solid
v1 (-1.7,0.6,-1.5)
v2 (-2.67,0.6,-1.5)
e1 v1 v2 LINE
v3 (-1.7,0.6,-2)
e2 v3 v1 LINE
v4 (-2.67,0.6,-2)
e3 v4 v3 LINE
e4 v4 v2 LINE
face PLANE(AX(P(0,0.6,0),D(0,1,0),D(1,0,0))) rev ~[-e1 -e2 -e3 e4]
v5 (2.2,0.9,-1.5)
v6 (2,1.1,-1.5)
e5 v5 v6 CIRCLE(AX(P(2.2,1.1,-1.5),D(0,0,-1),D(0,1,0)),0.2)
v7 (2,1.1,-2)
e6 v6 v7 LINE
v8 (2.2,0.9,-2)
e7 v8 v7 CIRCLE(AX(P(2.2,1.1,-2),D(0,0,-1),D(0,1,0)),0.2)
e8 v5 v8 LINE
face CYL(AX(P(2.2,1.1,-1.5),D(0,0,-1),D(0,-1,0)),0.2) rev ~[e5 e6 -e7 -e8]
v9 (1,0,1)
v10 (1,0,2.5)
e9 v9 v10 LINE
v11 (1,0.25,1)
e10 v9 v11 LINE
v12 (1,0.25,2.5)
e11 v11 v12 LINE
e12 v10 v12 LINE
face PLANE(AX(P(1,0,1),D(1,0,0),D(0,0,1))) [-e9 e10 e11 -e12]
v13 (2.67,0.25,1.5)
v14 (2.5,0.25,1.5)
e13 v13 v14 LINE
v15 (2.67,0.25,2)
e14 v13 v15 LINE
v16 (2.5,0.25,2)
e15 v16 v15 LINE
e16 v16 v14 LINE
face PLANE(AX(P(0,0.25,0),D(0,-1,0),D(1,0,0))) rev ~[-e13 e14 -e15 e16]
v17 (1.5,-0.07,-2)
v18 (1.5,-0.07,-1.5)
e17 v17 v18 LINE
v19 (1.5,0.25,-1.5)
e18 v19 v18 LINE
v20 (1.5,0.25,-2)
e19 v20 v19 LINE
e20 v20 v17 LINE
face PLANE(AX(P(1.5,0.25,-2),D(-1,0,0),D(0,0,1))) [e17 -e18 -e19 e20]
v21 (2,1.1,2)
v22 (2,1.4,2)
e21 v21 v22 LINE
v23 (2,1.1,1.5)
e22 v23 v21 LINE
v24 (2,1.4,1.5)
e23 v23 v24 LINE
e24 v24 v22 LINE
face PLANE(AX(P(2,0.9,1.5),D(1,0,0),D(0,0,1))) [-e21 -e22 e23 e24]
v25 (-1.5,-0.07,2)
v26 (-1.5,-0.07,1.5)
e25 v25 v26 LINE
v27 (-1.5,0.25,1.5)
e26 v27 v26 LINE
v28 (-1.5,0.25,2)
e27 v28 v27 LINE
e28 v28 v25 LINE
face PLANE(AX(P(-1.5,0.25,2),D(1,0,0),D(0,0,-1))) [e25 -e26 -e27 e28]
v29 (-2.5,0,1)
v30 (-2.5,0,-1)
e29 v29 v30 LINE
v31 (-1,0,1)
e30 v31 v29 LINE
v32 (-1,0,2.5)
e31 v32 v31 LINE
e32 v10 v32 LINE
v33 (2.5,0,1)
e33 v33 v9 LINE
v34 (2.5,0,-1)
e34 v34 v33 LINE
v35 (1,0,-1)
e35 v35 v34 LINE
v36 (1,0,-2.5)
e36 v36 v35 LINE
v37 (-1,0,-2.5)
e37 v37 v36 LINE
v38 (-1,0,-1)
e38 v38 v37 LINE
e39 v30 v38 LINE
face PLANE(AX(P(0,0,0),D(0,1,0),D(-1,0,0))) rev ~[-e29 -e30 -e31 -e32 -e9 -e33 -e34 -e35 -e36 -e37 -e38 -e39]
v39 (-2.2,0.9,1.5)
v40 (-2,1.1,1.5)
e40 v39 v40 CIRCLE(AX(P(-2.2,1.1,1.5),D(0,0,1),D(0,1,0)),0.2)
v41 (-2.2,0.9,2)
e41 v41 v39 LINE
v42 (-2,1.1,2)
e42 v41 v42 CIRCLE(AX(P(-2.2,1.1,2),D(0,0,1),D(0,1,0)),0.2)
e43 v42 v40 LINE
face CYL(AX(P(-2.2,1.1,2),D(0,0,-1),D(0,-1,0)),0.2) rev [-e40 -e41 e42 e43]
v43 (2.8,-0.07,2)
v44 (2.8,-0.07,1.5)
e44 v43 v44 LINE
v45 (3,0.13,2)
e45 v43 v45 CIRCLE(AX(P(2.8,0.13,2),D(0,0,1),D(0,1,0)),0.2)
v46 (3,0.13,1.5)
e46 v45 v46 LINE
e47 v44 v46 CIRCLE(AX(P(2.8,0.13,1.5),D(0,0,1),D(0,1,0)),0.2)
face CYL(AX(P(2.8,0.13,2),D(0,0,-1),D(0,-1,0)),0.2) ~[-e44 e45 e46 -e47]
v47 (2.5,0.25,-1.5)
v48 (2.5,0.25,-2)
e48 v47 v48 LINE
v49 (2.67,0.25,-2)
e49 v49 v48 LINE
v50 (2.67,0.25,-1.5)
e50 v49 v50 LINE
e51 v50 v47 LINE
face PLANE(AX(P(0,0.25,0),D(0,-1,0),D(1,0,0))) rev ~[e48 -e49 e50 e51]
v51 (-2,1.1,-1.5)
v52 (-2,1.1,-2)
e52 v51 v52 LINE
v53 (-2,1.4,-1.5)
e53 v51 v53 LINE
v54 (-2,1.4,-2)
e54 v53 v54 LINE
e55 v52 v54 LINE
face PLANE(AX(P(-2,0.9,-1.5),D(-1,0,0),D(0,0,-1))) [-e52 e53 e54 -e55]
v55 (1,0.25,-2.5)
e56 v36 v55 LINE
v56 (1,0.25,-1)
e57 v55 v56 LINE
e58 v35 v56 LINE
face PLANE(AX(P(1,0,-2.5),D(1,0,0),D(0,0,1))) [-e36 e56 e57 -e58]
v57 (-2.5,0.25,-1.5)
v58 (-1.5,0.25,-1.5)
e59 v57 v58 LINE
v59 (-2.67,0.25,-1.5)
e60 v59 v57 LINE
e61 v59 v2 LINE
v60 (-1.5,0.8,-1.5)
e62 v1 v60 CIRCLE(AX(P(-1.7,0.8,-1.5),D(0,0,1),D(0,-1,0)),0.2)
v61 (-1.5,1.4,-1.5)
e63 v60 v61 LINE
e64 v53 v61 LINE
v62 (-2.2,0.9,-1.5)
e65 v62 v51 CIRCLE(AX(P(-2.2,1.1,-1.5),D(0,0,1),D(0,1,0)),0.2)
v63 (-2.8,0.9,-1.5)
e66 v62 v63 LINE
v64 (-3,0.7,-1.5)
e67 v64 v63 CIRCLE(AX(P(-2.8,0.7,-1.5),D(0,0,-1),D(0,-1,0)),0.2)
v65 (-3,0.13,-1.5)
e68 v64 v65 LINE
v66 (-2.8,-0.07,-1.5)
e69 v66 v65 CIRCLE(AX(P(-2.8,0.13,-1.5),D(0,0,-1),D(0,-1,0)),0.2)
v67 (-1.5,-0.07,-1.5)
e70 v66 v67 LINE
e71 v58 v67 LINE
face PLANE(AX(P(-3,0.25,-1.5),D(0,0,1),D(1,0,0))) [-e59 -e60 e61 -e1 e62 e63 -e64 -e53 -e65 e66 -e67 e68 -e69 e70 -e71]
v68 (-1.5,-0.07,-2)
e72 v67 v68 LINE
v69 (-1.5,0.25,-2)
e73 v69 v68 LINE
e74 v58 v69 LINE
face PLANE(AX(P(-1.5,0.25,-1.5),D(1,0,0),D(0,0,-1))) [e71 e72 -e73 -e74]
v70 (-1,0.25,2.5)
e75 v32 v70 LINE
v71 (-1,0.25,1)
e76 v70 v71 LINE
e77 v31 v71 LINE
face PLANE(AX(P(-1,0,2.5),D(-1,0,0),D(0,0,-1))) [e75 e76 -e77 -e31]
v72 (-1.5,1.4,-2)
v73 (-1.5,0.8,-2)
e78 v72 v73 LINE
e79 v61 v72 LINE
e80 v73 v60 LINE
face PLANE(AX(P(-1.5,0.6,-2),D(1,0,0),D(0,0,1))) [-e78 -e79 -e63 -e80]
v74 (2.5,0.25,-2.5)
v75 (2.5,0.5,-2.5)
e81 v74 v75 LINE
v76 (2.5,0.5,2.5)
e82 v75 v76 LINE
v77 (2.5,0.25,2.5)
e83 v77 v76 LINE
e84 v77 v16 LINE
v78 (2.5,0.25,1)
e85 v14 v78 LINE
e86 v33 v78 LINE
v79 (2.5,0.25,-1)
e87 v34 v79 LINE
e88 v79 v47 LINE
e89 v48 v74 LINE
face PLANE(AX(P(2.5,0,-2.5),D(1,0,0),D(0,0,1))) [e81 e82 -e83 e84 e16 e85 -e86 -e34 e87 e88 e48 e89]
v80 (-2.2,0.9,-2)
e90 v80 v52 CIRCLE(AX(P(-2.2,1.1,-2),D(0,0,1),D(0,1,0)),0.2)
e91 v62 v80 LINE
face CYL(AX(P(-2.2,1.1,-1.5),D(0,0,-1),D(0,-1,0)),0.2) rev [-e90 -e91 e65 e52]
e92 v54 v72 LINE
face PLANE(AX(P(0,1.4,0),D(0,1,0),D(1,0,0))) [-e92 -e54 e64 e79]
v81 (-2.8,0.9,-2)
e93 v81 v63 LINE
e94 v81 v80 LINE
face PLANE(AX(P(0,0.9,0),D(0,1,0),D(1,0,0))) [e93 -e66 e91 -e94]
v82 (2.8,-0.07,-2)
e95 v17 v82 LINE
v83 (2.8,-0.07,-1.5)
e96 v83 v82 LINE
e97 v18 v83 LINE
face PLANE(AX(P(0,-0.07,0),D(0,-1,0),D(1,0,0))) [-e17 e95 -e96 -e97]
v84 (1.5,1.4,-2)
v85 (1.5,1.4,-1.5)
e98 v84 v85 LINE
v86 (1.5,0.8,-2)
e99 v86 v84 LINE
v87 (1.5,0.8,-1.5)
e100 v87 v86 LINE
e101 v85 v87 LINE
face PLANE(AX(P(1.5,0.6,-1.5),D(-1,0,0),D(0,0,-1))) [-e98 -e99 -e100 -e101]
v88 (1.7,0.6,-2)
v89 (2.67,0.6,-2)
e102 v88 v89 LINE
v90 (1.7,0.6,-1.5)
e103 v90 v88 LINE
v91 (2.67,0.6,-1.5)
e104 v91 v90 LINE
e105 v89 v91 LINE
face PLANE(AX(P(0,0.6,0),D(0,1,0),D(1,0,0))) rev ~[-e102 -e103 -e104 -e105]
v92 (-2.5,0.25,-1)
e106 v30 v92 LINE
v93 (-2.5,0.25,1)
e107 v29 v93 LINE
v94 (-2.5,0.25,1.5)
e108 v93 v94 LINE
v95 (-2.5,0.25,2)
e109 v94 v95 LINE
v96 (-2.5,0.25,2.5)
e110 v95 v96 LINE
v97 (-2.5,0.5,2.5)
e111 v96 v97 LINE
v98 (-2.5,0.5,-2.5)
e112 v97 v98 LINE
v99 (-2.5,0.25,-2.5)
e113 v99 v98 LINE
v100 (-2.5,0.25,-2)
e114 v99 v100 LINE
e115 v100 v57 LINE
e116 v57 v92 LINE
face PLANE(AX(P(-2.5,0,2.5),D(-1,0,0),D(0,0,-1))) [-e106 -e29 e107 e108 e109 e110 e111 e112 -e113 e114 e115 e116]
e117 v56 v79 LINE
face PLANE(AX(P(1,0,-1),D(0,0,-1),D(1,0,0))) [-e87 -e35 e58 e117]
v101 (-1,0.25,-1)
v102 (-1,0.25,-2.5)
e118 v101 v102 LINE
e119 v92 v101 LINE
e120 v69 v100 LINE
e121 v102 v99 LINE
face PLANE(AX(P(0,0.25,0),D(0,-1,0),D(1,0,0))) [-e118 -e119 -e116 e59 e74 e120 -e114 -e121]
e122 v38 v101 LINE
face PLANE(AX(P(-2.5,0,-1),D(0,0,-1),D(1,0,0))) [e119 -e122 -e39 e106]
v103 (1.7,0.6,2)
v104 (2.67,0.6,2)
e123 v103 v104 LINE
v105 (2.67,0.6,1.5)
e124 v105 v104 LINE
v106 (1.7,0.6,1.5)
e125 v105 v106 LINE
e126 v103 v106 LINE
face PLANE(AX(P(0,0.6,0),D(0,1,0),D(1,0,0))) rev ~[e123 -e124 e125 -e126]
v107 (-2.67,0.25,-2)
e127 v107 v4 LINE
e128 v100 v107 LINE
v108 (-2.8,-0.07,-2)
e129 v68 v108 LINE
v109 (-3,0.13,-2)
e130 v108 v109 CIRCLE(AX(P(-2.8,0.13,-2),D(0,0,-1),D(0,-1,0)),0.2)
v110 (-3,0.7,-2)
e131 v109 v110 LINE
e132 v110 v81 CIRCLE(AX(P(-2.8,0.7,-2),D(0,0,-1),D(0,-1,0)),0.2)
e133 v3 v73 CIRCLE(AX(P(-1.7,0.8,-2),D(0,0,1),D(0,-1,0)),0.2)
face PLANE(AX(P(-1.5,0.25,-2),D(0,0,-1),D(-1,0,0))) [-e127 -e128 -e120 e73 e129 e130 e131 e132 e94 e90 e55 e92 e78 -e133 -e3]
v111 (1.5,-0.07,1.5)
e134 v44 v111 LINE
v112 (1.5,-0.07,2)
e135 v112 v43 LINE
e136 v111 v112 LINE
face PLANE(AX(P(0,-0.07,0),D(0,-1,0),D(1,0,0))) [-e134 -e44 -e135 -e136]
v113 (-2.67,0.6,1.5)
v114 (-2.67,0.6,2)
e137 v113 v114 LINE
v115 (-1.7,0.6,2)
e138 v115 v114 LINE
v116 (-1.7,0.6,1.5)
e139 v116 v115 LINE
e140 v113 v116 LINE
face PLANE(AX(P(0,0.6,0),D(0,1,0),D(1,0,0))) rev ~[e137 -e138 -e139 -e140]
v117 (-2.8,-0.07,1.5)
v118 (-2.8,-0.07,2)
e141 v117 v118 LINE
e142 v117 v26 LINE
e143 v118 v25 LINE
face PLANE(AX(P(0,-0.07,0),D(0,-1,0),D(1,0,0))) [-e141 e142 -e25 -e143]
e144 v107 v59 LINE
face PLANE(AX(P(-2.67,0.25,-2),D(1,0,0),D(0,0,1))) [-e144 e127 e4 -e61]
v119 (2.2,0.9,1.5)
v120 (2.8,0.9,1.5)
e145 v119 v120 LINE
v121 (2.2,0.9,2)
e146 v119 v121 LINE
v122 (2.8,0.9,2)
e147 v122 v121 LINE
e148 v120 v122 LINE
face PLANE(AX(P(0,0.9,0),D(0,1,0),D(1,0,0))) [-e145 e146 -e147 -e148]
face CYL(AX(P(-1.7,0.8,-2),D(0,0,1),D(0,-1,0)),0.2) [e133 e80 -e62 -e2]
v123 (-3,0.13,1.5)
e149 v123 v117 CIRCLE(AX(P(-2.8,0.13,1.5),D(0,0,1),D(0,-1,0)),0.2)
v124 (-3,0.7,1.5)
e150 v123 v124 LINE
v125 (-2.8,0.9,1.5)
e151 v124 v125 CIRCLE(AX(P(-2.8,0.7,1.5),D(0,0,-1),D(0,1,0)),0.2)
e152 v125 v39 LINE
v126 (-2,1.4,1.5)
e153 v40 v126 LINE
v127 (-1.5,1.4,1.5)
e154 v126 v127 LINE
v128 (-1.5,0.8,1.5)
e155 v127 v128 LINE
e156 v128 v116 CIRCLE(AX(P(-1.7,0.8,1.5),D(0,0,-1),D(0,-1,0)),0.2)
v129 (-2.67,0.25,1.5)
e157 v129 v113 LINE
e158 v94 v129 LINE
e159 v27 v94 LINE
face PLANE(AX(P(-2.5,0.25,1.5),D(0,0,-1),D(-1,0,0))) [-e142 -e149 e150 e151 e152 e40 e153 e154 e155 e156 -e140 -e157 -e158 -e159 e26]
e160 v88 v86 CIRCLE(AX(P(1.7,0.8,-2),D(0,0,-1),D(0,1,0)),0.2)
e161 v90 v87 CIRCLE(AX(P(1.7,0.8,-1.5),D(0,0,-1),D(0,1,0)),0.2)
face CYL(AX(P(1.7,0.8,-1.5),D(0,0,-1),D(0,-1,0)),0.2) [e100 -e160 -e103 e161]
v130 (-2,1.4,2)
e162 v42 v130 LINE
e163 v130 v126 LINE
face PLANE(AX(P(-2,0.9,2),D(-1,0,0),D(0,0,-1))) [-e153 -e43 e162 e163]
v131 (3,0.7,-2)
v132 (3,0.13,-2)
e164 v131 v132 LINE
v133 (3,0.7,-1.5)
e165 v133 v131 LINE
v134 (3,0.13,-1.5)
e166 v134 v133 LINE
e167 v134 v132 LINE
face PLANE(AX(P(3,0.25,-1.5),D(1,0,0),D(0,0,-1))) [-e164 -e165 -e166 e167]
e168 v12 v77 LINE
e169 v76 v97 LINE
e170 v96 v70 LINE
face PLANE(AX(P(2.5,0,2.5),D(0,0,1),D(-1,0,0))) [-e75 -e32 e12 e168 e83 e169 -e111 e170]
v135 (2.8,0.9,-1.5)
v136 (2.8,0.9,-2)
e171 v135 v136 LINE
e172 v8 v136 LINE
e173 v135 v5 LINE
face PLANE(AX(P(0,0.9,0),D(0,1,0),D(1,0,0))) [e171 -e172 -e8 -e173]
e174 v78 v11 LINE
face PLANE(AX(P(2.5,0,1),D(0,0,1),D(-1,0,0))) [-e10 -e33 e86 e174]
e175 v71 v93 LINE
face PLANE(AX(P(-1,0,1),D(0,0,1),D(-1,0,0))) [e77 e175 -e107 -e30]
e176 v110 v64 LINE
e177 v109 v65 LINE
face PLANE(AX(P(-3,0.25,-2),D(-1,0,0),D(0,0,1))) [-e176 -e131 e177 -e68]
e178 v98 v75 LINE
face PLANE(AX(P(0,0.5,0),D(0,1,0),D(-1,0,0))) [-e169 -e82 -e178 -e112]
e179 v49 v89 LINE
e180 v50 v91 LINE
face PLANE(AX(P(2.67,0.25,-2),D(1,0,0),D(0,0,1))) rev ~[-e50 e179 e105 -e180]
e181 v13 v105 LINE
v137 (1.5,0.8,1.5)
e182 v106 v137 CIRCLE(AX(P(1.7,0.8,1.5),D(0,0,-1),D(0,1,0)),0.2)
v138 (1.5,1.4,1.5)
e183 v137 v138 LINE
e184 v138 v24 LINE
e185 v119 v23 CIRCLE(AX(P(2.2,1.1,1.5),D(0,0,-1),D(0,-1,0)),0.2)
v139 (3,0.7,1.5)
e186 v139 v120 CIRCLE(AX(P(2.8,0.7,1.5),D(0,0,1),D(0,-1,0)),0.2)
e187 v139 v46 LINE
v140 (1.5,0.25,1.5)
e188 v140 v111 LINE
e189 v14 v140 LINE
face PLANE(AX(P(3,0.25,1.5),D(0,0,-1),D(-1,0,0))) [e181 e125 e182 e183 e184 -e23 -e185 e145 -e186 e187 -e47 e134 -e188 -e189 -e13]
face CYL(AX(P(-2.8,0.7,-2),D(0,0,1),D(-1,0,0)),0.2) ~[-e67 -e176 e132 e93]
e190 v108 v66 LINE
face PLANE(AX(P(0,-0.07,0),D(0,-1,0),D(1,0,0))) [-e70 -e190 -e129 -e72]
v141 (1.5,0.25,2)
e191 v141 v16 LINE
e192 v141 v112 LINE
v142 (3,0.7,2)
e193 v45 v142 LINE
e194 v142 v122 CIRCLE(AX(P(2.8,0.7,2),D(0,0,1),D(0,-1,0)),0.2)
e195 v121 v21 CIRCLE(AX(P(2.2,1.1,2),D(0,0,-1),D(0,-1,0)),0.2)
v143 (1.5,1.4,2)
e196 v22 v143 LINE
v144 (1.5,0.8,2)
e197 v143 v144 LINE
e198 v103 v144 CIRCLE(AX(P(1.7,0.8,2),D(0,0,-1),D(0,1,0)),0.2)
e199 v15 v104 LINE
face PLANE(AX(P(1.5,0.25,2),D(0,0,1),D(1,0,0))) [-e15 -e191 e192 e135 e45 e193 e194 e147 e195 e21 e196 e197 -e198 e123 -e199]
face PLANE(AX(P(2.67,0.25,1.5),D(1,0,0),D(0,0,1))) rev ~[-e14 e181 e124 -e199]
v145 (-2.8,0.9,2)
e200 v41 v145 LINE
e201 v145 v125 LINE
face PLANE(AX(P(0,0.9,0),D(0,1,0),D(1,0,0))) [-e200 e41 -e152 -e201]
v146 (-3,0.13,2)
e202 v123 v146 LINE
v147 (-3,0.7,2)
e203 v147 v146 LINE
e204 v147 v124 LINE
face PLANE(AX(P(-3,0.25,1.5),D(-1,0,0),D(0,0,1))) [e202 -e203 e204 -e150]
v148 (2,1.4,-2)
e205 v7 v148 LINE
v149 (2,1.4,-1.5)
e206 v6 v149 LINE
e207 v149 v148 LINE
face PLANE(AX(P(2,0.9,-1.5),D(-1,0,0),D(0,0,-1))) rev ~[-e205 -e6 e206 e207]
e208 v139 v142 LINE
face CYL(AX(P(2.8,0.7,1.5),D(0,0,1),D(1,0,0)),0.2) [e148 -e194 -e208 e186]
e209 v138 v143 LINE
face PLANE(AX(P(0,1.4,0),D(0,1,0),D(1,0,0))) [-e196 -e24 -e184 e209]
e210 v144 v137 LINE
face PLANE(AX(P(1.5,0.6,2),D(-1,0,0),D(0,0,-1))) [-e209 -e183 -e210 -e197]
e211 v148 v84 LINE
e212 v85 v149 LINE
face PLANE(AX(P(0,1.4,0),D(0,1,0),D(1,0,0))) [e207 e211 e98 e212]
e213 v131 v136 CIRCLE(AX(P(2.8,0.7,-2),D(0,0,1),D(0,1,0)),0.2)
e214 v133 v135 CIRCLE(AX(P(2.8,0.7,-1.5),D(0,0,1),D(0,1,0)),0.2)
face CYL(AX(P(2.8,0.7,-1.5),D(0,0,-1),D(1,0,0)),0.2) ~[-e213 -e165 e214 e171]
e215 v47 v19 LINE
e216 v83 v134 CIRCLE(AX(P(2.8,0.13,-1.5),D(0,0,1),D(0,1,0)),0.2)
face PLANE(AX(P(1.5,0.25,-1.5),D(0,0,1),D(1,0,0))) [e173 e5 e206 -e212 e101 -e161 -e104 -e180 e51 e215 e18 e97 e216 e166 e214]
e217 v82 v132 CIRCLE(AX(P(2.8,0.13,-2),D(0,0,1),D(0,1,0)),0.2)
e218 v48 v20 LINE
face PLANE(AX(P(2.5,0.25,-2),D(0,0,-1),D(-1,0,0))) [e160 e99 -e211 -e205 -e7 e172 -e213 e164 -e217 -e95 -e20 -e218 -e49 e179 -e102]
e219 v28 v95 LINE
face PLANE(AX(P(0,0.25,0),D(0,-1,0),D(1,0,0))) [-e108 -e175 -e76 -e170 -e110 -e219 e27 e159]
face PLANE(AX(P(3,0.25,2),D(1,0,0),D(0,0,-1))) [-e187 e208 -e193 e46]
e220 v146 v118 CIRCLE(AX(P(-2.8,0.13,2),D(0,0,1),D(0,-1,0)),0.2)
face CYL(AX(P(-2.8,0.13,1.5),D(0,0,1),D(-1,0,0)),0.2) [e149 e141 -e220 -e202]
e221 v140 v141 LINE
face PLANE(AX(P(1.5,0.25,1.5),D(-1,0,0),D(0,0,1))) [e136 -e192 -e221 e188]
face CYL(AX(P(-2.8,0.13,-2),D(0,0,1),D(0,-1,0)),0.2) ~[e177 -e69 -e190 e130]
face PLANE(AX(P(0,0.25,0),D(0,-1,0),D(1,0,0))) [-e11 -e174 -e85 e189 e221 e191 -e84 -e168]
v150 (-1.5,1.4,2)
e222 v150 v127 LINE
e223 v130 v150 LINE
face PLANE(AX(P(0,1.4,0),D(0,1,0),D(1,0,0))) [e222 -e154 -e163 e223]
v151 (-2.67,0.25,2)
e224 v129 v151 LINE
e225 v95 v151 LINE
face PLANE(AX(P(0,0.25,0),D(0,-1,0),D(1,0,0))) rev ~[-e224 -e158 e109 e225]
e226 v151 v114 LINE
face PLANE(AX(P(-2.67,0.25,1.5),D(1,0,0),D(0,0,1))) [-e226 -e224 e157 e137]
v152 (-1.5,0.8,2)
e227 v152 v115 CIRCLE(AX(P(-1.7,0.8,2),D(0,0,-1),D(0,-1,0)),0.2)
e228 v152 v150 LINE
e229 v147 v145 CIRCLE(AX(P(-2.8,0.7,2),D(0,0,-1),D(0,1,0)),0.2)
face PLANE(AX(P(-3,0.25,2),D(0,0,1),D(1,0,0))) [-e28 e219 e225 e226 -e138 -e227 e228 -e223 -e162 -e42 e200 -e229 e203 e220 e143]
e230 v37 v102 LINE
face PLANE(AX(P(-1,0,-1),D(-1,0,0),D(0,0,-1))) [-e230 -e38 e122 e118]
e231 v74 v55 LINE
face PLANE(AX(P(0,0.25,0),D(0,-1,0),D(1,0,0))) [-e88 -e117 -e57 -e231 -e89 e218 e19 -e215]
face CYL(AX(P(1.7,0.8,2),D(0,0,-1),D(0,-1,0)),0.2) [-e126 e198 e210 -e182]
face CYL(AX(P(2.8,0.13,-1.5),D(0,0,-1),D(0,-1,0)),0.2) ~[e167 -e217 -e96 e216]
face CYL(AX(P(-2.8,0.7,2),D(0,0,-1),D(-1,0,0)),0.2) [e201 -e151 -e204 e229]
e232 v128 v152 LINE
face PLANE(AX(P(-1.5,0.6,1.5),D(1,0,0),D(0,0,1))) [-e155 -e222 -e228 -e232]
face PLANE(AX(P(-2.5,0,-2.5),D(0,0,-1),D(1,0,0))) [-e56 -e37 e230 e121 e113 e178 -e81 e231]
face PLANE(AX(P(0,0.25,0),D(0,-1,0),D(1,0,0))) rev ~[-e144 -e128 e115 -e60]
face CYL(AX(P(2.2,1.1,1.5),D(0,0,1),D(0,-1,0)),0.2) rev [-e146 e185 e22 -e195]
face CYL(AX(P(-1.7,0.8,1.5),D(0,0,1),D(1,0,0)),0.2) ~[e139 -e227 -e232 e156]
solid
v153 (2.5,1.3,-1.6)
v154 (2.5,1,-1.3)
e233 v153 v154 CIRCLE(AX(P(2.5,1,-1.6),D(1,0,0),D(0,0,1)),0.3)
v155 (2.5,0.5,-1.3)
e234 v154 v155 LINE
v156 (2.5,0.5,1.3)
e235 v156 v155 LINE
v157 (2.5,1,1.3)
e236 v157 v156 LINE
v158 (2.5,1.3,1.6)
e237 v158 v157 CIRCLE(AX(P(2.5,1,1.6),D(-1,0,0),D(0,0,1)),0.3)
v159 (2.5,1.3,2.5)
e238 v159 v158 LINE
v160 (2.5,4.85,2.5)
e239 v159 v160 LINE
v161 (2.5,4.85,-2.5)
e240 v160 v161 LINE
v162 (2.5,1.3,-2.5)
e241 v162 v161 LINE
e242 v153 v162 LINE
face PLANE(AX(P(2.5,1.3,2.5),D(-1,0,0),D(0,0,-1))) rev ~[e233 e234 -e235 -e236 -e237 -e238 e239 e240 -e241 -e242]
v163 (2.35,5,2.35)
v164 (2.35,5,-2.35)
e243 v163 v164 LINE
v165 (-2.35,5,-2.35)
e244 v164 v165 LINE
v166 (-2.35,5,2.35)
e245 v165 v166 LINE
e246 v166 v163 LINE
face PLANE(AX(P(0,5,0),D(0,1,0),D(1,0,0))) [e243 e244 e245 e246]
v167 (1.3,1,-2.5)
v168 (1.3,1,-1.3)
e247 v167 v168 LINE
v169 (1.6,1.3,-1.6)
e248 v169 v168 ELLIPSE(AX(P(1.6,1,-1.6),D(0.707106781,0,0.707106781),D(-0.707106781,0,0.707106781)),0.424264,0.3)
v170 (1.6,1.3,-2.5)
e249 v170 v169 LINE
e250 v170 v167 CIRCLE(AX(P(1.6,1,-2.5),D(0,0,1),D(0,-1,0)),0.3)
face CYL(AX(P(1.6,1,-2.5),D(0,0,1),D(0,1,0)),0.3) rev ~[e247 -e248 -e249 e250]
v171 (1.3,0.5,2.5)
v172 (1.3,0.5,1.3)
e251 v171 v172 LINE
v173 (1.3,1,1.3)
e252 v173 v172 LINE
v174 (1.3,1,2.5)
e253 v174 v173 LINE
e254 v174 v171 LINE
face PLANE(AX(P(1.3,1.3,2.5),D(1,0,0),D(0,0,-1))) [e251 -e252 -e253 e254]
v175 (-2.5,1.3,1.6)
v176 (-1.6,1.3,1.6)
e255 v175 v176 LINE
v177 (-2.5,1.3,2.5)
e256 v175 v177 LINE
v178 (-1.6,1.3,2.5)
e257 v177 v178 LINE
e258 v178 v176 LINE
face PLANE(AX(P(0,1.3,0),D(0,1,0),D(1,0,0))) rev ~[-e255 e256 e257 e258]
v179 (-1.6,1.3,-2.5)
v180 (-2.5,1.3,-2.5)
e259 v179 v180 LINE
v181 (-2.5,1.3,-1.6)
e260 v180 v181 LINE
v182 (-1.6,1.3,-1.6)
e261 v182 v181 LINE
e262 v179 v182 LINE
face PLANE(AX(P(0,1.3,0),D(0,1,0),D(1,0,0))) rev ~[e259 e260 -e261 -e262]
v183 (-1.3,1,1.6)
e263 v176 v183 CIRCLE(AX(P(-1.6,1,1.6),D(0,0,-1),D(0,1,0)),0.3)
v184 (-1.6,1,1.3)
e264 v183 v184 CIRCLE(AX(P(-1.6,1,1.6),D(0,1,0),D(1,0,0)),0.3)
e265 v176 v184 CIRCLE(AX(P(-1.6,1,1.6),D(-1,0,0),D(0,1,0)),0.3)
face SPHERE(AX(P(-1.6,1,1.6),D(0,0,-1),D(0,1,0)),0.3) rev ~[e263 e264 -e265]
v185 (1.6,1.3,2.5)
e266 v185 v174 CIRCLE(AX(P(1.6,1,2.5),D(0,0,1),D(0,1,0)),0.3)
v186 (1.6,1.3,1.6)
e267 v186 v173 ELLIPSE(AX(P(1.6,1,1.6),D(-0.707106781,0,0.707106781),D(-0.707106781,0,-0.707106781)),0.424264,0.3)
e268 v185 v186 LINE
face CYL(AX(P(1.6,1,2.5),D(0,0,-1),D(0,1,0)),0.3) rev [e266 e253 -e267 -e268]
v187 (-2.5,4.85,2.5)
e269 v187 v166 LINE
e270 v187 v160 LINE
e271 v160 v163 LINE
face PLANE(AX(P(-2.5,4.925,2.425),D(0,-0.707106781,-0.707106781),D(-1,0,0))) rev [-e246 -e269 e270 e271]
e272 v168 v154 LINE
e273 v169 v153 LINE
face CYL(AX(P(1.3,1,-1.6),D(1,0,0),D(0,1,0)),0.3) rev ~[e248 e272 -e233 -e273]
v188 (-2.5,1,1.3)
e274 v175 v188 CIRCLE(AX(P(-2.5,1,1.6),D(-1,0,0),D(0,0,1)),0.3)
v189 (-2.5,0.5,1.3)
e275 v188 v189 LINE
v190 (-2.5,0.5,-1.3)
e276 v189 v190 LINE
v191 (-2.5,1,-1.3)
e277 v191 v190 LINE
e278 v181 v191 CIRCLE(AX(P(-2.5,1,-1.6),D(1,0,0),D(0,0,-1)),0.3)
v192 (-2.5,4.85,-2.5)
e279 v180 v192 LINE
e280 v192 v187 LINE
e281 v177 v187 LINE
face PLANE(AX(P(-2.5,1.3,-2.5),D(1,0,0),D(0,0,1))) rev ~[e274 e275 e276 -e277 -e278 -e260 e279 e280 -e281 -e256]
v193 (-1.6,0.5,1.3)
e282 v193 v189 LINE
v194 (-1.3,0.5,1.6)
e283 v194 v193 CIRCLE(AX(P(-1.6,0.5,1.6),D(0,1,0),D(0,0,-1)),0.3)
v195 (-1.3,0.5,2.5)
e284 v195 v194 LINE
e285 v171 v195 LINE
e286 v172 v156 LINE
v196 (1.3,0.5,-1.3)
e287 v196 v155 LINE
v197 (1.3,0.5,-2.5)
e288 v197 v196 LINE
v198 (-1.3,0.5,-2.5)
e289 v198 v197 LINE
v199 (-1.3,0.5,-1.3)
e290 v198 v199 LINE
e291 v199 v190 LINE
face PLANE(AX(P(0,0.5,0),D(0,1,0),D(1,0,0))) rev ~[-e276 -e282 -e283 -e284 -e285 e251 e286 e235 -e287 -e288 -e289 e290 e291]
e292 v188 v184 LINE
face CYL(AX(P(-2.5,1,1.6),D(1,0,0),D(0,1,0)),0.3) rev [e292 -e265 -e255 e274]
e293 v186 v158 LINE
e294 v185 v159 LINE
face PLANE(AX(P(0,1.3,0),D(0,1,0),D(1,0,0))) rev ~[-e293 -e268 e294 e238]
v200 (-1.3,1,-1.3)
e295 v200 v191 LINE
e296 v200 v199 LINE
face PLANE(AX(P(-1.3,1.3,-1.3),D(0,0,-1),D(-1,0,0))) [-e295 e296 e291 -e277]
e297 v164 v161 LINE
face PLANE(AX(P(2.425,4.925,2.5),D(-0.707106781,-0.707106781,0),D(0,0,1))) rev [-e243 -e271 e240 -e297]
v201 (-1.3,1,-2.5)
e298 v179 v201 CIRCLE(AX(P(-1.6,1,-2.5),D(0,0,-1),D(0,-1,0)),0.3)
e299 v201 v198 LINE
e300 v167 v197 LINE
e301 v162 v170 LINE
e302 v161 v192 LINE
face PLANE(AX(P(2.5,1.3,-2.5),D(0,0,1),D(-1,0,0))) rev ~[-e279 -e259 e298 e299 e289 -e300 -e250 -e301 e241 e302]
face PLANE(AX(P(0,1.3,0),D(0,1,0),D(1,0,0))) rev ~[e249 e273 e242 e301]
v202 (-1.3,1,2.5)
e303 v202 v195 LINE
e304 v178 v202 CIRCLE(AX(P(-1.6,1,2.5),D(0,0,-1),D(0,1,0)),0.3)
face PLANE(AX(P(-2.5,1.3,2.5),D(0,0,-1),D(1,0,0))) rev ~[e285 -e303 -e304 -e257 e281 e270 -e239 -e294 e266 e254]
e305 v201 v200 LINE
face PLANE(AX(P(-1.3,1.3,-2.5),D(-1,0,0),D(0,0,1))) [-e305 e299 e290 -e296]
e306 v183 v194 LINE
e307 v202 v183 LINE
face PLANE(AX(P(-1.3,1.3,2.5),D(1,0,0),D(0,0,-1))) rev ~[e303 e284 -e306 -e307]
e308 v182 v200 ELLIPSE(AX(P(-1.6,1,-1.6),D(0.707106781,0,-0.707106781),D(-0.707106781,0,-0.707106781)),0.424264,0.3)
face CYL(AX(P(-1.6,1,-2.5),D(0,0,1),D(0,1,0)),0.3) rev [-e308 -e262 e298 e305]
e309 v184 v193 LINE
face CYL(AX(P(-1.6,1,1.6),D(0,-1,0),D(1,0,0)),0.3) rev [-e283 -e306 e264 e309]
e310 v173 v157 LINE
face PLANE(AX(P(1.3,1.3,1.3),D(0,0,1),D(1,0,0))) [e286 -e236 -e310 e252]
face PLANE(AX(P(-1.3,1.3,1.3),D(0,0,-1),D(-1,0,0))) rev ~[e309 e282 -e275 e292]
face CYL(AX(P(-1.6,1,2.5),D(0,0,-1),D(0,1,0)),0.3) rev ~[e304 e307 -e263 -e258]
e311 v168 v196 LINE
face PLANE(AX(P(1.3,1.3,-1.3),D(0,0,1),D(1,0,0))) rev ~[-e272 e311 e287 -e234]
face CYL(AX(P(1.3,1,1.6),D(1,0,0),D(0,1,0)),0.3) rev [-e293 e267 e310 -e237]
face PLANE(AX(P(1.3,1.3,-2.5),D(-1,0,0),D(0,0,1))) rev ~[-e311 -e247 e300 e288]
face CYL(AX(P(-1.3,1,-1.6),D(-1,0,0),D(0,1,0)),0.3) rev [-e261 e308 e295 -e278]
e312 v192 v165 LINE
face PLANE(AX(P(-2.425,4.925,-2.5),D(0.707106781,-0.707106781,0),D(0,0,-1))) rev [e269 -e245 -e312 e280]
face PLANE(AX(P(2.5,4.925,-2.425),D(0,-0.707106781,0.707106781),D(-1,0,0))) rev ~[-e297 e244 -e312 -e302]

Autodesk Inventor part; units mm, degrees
ref_plane "YZ Plane" through (0, 0, 0) normal (1, 0, 0) x (0, 1, 0)
ref_plane "XZ Plane" through (0, 0, 0) normal (0, 1, 0) x (-1, 0, 0)
ref_plane "XY Plane" through (0, 0, 0) normal (0, 0, 1) x (1, 0, 0)
sketch "Эскиз1" plane through (0, 0, 0) normal (0, 1, 0) x (-1, 0, 0)
  line L0 (2.5, -2.5) -> (-2.5, -2.5)
  line L1 (-2.5, -2.5) -> (-2.5, 2.5)
  line L2 (-2.5, 2.5) -> (2.5, 2.5)
  line L3 (2.5, 2.5) -> (2.5, -2.5)
  line L4 (2.5, -2.5) -> (-2.5, 2.5) construction
  line L5 (-2.5, -2.5) -> (2.5, 2.5) construction
  point P0 (0, 0)
  dimension "d0" = 5
  dimension "d1" = 5
extrude "Выдавливание1" add sketch "Эскиз1" along normal blind 0.5
sketch "Эскиз2" plane through (0, 0, 0) normal (0, -1, 0) x (1, 0, 0)
  line L0 (1, 2.5) -> (2.5, 2.5)
  line L1 (2.5, 2.5) -> (2.5, 1)
  line L2 (2.5, 1) -> (1, 1)
  line L3 (1, 1) -> (1, 2.5)
  line L4 (1, 2.5) -> (2.5, 1) construction
  line L5 (2.5, 2.5) -> (1, 1) construction
  line L6 (-2.5, 2.5) -> (2.5, 2.5) projected
  line L7 (2.5, 2.5) -> (2.5, -2.5) projected
  line L8 (-2.5, -2.5) -> (-2.5, 2.5) projected
  line L9 (2.5, -2.5) -> (-2.5, -2.5) projected
  line L10 (-2.5, 2.5) -> (-1, 2.5)
  line L11 (-1, 2.5) -> (-1, 1)
  line L12 (-1, 1) -> (-2.5, 1)
  line L13 (-2.5, 1) -> (-2.5, 2.5)
  line L14 (-2.5, 2.5) -> (-1, 1) construction
  line L15 (-1, 2.5) -> (-2.5, 1) construction
  line L16 (1, -1) -> (2.5, -1)
  line L17 (2.5, -1) -> (2.5, -2.5)
  line L18 (2.5, -2.5) -> (1, -2.5)
  line L19 (1, -2.5) -> (1, -1)
  line L20 (-2.5, -1) -> (-1, -1)
  line L21 (-1, -1) -> (-1, -2.5)
  line L22 (-1, -2.5) -> (-2.5, -2.5)
  line L23 (-2.5, -2.5) -> (-2.5, -1)
  point P0 (0, 0)
  point P1 (1.75, 1.75)
  point P2 (-1.75, 1.75)
  point P3 (-2.5, -1)
  point P4 (-2.5, 1)
  dimension "d4" = 1.5
  dimension "d5" = 1.5
  dimension "d6" = 1.5
  dimension "d7" = 1.5
  dimension "d8" = 1.5
  dimension "d9" = 1.5
  dimension "d10" = 1.5
  dimension "d11" = 1.5
extrude "Выдавливание2" cut sketch "Эскиз2" against normal blind 0.25 contours L0 L1 L2 L3 | L11 L12 L8 L6 | L7 L9 L19 L16 | L20 L21 L9 L8
sketch "Эскиз3" plane through (0, 0.5, 0) normal (0, 1, 0) x (1, 0, 0)
  line L0 (2.5, -2.5) -> (2.5, 2.5) projected
  line L1 (-2.5, 2.5) -> (2.5, 2.5)
  line L2 (2.5, 2.5) -> (2.5, -2.5)
  line L3 (2.5, -2.5) -> (-2.5, -2.5)
  line L4 (-2.5, -2.5) -> (-2.5, 2.5)
  line L5 (-2.5, 2.5) -> (2.5, -2.5) construction
  line L6 (2.5, 2.5) -> (-2.5, -2.5) construction
  point P0 (0, 0)
extrude "Выдавливание3" add sketch "Эскиз3" along normal blind 0.8 separate body
sketch "Эскиз4" plane through (0, 1.3, 0) normal (0, 1, 0) x (1, 0, 0)
  line L0 (-2.5, -2.5) -> (-1, -2.5) projected
  line L1 (-2.5, -2.5) -> (-1.3, -2.5)
  line L2 (-1.3, -2.5) -> (-1.3, -1.3)
  line L3 (-1.3, -1.3) -> (-2.5, -1.3)
  line L4 (-2.5, -1.3) -> (-2.5, -2.5)
  line L5 (-2.5, -2.5) -> (2.5, -2.5) projected
  line L6 (2.5, -2.5) -> (1.3, -2.5)
  line L7 (1.3, -2.5) -> (1.3, -1.3)
  line L8 (1.3, -1.3) -> (2.5, -1.3)
  line L9 (2.5, -1.3) -> (2.5, -2.5)
  line L10 (2.5, 2.5) -> (-2.5, 2.5) projected
  line L11 (2.5, 2.5) -> (1.3, 2.5)
  line L12 (1.3, 2.5) -> (1.3, 1.3)
  line L13 (1.3, 1.3) -> (2.5, 1.3)
  line L14 (2.5, 1.3) -> (2.5, 2.5)
  line L15 (-2.5, 2.5) -> (-1.3, 2.5)
  line L16 (-1.3, 2.5) -> (-1.3, 1.3)
  line L17 (-1.3, 1.3) -> (-2.5, 1.3)
  line L18 (-2.5, 1.3) -> (-2.5, 2.5)
  point P0 (0, 0)
  dimension "d16" = 1.2
  dimension "d17" = 1.2
  dimension "d18" = 1.2
  dimension "d19" = 1.2
  dimension "d20" = 1.2
  dimension "d21" = 1.2
  dimension "d22" = 1.2
  dimension "d23" = 1.2
extrude "Выдавливание4" cut sketch "Эскиз4" against normal blind 0.8 bodies 2
sketch "Эскиз5" plane through (0, 1.3, 0) normal (0, 1, 0) x (1, 0, 0)
  line L0 (2.5, -2.5) -> (2.5, 2.5) projected
  line L1 (-2.5, -2.5) -> (2.5, -2.5)
  line L2 (2.5, -2.5) -> (2.5, 2.5)
  line L3 (2.5, 2.5) -> (-2.5, 2.5)
  line L4 (-2.5, 2.5) -> (-2.5, -2.5)
  line L5 (-2.5, -2.5) -> (2.5, 2.5) construction
  line L6 (2.5, -2.5) -> (-2.5, 2.5) construction
  point P0 (0, 0)
extrude "Выдавливание5" add sketch "Эскиз5" along normal blind 3.7 bodies 2
sketch "Эскиз6" plane through (0, 5, 0) normal (0, 1, 0) x (1, 0, 0)
  point P0 (0, 0)
chamfer "Фаска1" distance 0.15 angle 45 4 edges at (0, 5, 2.5) (-2.5, 5, 0) (0, 5, -2.5) (2.5, 5, 0)
fillet "Сопряжение1" radius 0.3 7 edges at (1.3, 1.3, 1.9) (-1.3, 1.3, 1.9) (1.9, 1.3, 1.3) (1.3, 1.3, -1.9) (1.9, 1.3, -1.3) (-1.9, 1.3, -1.3) (-1.3, 1.3, -1.9)
fillet "Сопряжение2" radius 0.3 3 edges at (-1.3879, 1.2121, 1.3) (-1.3, 0.75, 1.3) (-2.05, 1.3, 1.3)
sketch "Эскиз7" plane through (0, 0.25, 0) normal (0, -1, 0) x (1, 0, 0)
  line L0 (1.5, -1.5) -> (3, -1.5)
  line L1 (3, -1.5) -> (3, -2)
  line L2 (3, -2) -> (1.5, -2)
  line L3 (1.5, -2) -> (1.5, -1.5)
  line L4 (1.5, -1.5) -> (3, -2) construction
  line L5 (3, -1.5) -> (1.5, -2) construction
  line L6 (2.5, -1) -> (2.5, -2.5) projected
  line L7 (-3, -1.5) -> (-1.5, -1.5)
  line L8 (-1.5, -1.5) -> (-1.5, -2)
  line L9 (-1.5, -2) -> (-3, -2)
  line L10 (-3, -2) -> (-3, -1.5)
  line L11 (-3, -1.5) -> (-1.5, -2) construction
  line L12 (-1.5, -1.5) -> (-3, -2) construction
  line L13 (1.5, -1.5) -> (3, -1.5)
  line L14 (3, -1.5) -> (3, -2)
  line L15 (3, -2) -> (1.5, -2)
  line L16 (1.5, -2) -> (1.5, -1.5)
  line L17 (1.5, -1.5) -> (3, -2) construction
  line L18 (3, -1.5) -> (1.5, -2) construction
  line L19 (-3, -1.5) -> (-1.5, -1.5)
  line L20 (-3, -1.5) -> (-1.5, -2) construction
  line L21 (-1.5, -1.5) -> (-3, -2) construction
  line L22 (-3, -2) -> (-3, -1.5)
  line L23 (-1.5, -2) -> (-3, -2)
  line L24 (-1.5, -1.5) -> (-1.5, -2)
  line L25 (1.5, 2) -> (3, 2)
  line L26 (3, 2) -> (3, 1.5)
  line L27 (3, 1.5) -> (1.5, 1.5)
  line L28 (1.5, 1.5) -> (1.5, 2)
  line L29 (1.5, 2) -> (3, 1.5) construction
  line L30 (3, 2) -> (1.5, 1.5) construction
  line L31 (-3, 2) -> (-1.5, 2)
  line L32 (-3, 2) -> (-1.5, 1.5) construction
  line L33 (-1.5, 2) -> (-3, 1.5) construction
  line L34 (-3, 1.5) -> (-3, 2)
  line L35 (-1.5, 1.5) -> (-3, 1.5)
  line L36 (-1.5, 2) -> (-1.5, 1.5)
  line L37 (-1, 1) -> (-2.5, 1) projected
  line L38 (-2.5, 1) -> (-2.5, 1.6917)
  line L39 (-2.5, 1) -> (-2.5, 2.5) projected
  point P0 (0, 0)
  point P1 (2.25, -1.75)
  point P2 (-2.25, -1.75)
  point P3 (2.25, -1.75)
  point P4 (-2.25, -1.75)
  point P5 (2.25, 1.75)
  point P6 (-2.25, 1.75)
  point P7 (-2.5, 2)
  point P8 (-2.5, 1.5)
  dimension "d33" = 1.5
  dimension "d34" = 0.5
  dimension "d41" = 1.5
  dimension "d42" = 0.5
  dimension "d45" = 6
  dimension "d55" = 1.5
  dimension "d56" = 0.5
  dimension "d61" = 1.5
  dimension "d62" = 0.5
  dimension "d63" = 6
  dimension "d64" = 1.5
  dimension "d65" = 0.5
  dimension "d70" = 1.5
  dimension "d71" = 0.5
extrude "Выдавливание6" add sketch "Эскиз7" along normal blind 0.32 bodies 1
sketch "Эскиз8" plane through (0, 0.25, 0) normal (0, 1, 0) x (1, 0, 0)
  line L0 (2.5, 2) -> (3, 2) projected
  line L1 (3, 1.5) -> (2.5, 1.5) projected
  line L2 (3, 2) -> (2.67, 2)
  line L3 (2.67, 2) -> (2.67, 1.5)
  line L4 (2.67, 1.5) -> (3, 1.5)
  line L5 (3, 1.5) -> (3, 2)
  line L6 (3, 2) -> (2.67, 2)
  line L7 (2.67, 2) -> (2.67, 1.5)
  line L8 (2.67, 1.5) -> (3, 1.5)
  line L9 (3, 1.5) -> (3, 2)
  line L10 (3, -1.5) -> (3, -2) projected
  line L11 (3, -1.5) -> (2.8757, -1.5)
  line L12 (2.5, -1.5) -> (3, -1.5) projected
  line L13 (3, -1.5) -> (2.67, -1.5)
  line L14 (2.67, -1.5) -> (2.67, -2)
  line L15 (2.67, -2) -> (3, -2)
  line L16 (3, -2) -> (3, -1.5)
  line L17 (3, -1.5) -> (2.67, -1.5)
  line L18 (2.67, -1.5) -> (2.67, -2)
  line L19 (2.67, -2) -> (3, -2)
  line L20 (3, -2) -> (3, -1.5)
  line L21 (3, 2) -> (2.67, 2)
  line L22 (2.67, 2) -> (2.67, 1.5)
  line L23 (2.67, 1.5) -> (3, 1.5)
  line L24 (3, 1.5) -> (3, 2)
  line L25 (3, 2) -> (2.67, 2)
  line L26 (2.67, 2) -> (2.67, 1.5)
  line L27 (2.67, 1.5) -> (3, 1.5)
  line L28 (3, 1.5) -> (3, 2)
  line L29 (-2.67, -1.5) -> (-2.67, -2)
  line L30 (-2.67, -1.5) -> (-2.7943, -1.5)
  line L31 (-3, -1.5) -> (-2.67, -1.5)
  line L32 (-2.67, -1.5) -> (-3, -1.5)
  line L33 (-3, -1.5) -> (-3, -2)
  line L34 (-3, -2) -> (-2.67, -2)
  line L35 (-2.67, -2) -> (-2.67, -1.5)
  line L36 (-2.67, -1.5) -> (-3, -1.5)
  line L37 (-3, -1.5) -> (-3, -2)
  line L38 (-3, -2) -> (-2.67, -2)
  line L39 (-2.67, -2) -> (-2.67, -1.5)
  line L40 (-3, -2) -> (-3, -1.5) projected
  line L41 (-3, -2) -> (-3, -1.86)
  line L42 (-1.67, -0.5) -> (-1.67, -1)
  line L43 (-1.67, -0.5) -> (-1.7943, -0.5)
  line L44 (-2, -0.5) -> (-1.67, -0.5)
  line L45 (-1.67, -0.5) -> (-2, -0.5)
  line L46 (-1.67, -0.5) -> (-2, -0.5)
  line L47 (-2, -1) -> (-1.67, -1)
  line L48 (-1.67, -1) -> (-1.67, -0.5)
  line L49 (-2, -1) -> (-1.67, -1)
  line L50 (-1.67, -1) -> (-1.67, -0.5)
  line L51 (-2, -0.5) -> (-2, -1)
  line L52 (-2, -0.5) -> (-2, -1)
  line L53 (-2, -1) -> (-2, -0.5)
  line L54 (-2, -1) -> (-2, -0.86)
  line L55 (-0.67, 0.5) -> (-0.67, 0)
  line L56 (-0.67, 0.5) -> (-0.7943, 0.5)
  line L57 (-1, 0.5) -> (-0.67, 0.5)
  line L58 (-0.67, 0.5) -> (-1, 0.5)
  line L59 (-0.67, 0.5) -> (-1, 0.5)
  line L60 (-1, 0) -> (-0.67, 0)
  line L61 (-0.67, 0) -> (-0.67, 0.5)
  line L62 (-1, 0) -> (-0.67, 0)
  line L63 (-0.67, 0) -> (-0.67, 0.5)
  line L64 (-1, 0.5) -> (-1, 0)
  line L65 (-1, 0.5) -> (-1, 0)
  line L66 (-1, 0) -> (-1, 0.5)
  line L67 (-1, 0) -> (-1, 0.14)
  line L68 (-1.67, -0.5) -> (-1.67, -1)
  line L69 (-1.67, -0.5) -> (-1.7943, -0.5)
  line L70 (-2, -0.5) -> (-1.67, -0.5)
  line L71 (-1.67, -0.5) -> (-2, -0.5)
  line L72 (-1.67, -0.5) -> (-2, -0.5)
  line L73 (-2, -1) -> (-1.67, -1)
  line L74 (-1.67, -1) -> (-1.67, -0.5)
  line L75 (-2, -1) -> (-1.67, -1)
  line L76 (-1.67, -1) -> (-1.67, -0.5)
  line L77 (-2, -0.5) -> (-2, -1)
  line L78 (-2, -0.5) -> (-2, -1)
  line L79 (-2, -1) -> (-2, -0.5)
  line L80 (-2, -1) -> (-2, -0.86)
  line L81 (-0.67, 0.5) -> (-0.67, 0)
  line L82 (-0.67, 0.5) -> (-0.7943, 0.5)
  line L83 (-1, 0.5) -> (-0.67, 0.5)
  line L84 (-0.67, 0.5) -> (-1, 0.5)
  line L85 (-0.67, 0.5) -> (-1, 0.5)
  line L86 (-1, 0) -> (-0.67, 0)
  line L87 (-0.67, 0) -> (-0.67, 0.5)
  line L88 (-1, 0) -> (-0.67, 0)
  line L89 (-0.67, 0) -> (-0.67, 0.5)
  line L90 (-1, 0.5) -> (-1, 0)
  line L91 (-1, 0.5) -> (-1, 0)
  line L92 (-1, 0) -> (-1, 0.5)
  line L93 (-1, 0) -> (-1, 0.14)
  line L94 (0.33, 1.5) -> (0.33, 1)
  line L95 (0.33, 1.5) -> (0.2057, 1.5)
  line L96 (0, 1.5) -> (0.33, 1.5)
  line L97 (0.33, 1.5) -> (0, 1.5)
  line L98 (0.33, 1.5) -> (0, 1.5)
  line L99 (0, 1) -> (0.33, 1)
  line L100 (0.33, 1) -> (0.33, 1.5)
  line L101 (0, 1) -> (0.33, 1)
  line L102 (0.33, 1) -> (0.33, 1.5)
  line L103 (0, 1.5) -> (0, 1)
  line L104 (0, 1.5) -> (0, 1)
  line L105 (0, 1) -> (0, 1.5)
  line L106 (0, 1) -> (0, 1.14)
  line L107 (-3, 1.5) -> (-3, 2) projected
  line L108 (-3, 1.5) -> (-3, 1.6267)
  line L109 (1.33, 2.5) -> (1.33, 2)
  line L110 (1.33, 2.5) -> (1.2057, 2.5)
  line L111 (1, 2.5) -> (1.33, 2.5)
  line L112 (1.33, 2.5) -> (1, 2.5)
  line L113 (1.33, 2.5) -> (1, 2.5)
  line L114 (1, 2) -> (1.33, 2)
  line L115 (1.33, 2) -> (1.33, 2.5)
  line L116 (1, 2) -> (1.33, 2)
  line L117 (1.33, 2) -> (1.33, 2.5)
  line L118 (1, 2.5) -> (1, 2)
  line L119 (1, 2.5) -> (1, 2)
  line L120 (1, 2) -> (1, 2.5)
  line L121 (1, 2) -> (1, 2.14)
  line L122 (-2.67, 2) -> (-2.67, 1.5)
  line L123 (-2.67, 2) -> (-2.7943, 2)
  line L124 (-3, 2) -> (-2.67, 2)
  line L125 (-2.67, 2) -> (-3, 2)
  line L126 (-2.67, 2) -> (-3, 2)
  line L127 (-3, 1.5) -> (-2.67, 1.5)
  line L128 (-2.67, 1.5) -> (-2.67, 2)
  line L129 (-3, 1.5) -> (-2.67, 1.5)
  line L130 (-2.67, 1.5) -> (-2.67, 2)
  line L131 (-3, 2) -> (-3, 1.5)
  line L132 (-3, 2) -> (-3, 1.5)
  line L133 (-3, 1.5) -> (-3, 1.64)
  line L134 (-2.67, -1.5) -> (-2.67, -2)
  line L135 (-2.67, -1.5) -> (-2.7943, -1.5)
  line L136 (-3, -1.5) -> (-2.67, -1.5)
  line L137 (-2.67, -1.5) -> (-3, -1.5)
  line L138 (-2.67, -1.5) -> (-3, -1.5)
  line L139 (-3, -2) -> (-2.67, -2)
  line L140 (-2.67, -2) -> (-2.67, -1.5)
  line L141 (-3, -2) -> (-2.67, -2)
  line L142 (-2.67, -2) -> (-2.67, -1.5)
  line L143 (-3, -1.5) -> (-3, -2)
  line L144 (-3, -1.5) -> (-3, -2)
  line L145 (-3, -2) -> (-3, -1.86)
  point P0 (0, 0)
extrude "Выдавливание7" add sketch "Эскиз8" along normal blind 0.35 contours L0 L5 L1 L3 | L10 L15 L14 L12 L11 | L29 L34 L33 L31 L30 | L107 L124 L123 L122 L127 bodies 1
sketch "Эскиз10" plane through (0, 0.6, 0) normal (0, 1, 0) x (1, 0, 0)
  line L0 (3, -1.5) -> (2.67, -1.5) projected
  line L1 (2.67, -2) -> (3, -2) projected
  line L2 (3, -1.5) -> (3, -2)
  line L3 (3, -2) -> (1.5, -2)
  line L4 (1.5, -2) -> (1.5, -1.5)
  line L5 (1.5, -1.5) -> (3, -1.5)
  line L6 (3, 1.5) -> (3, 2) projected
  line L7 (3, 2) -> (3, 1.5)
  line L8 (3, 1.5) -> (1.5, 1.5)
  line L9 (1.5, 1.5) -> (1.5, 2)
  line L10 (1.5, 2) -> (3, 2)
  line L11 (-3, 2) -> (-3, 1.5) projected
  line L12 (-3, 1.5) -> (-3, 2)
  line L13 (-3, 2) -> (-1.5, 2)
  line L14 (-1.5, 2) -> (-1.5, 1.5)
  line L15 (-1.5, 1.5) -> (-3, 1.5)
  line L16 (-3, -2) -> (-3, -1.5)
  line L17 (-3, -1.5) -> (-1.5, -1.5)
  line L18 (-1.5, -1.5) -> (-1.5, -2)
  line L19 (-1.5, -2) -> (-3, -2)
  point P0 (0, 0)
  dimension "d77" = 1.5
  dimension "d78" = 1.5
  dimension "d79" = 1.5
  dimension "d80" = 1.5
extrude "Выдавливание8" add sketch "Эскиз10" along normal blind 0.3 bodies 1
sketch "Эскиз11" plane through (0, 0.9, 0) normal (0, 1, 0) x (1, 0, 0)
  line L0 (-1.5, 1.5) -> (-1.5, 2) projected
  line L1 (-2.5, 1.5) -> (-1.5, 1.5) projected
  line L2 (-1.5, 2) -> (-1.5, 1.5)
  line L3 (-1.5, 1.5) -> (-2, 1.5)
  line L4 (-2, 1.5) -> (-2, 2)
  line L5 (-2, 2) -> (-1.5, 2)
  line L6 (-1.5, -2) -> (-1.5, -1.5) projected
  line L7 (-2.5, -2) -> (-1.5, -2) projected
  line L8 (-1.5, -1.5) -> (-1.5, -2)
  line L9 (-1.5, -2) -> (-2, -2)
  line L10 (-2, -2) -> (-2, -1.5)
  line L11 (-2, -1.5) -> (-1.5, -1.5)
  line L12 (1.5, -1.5) -> (1.5, -2) projected
  line L13 (1.5, -2) -> (1.5, -1.5)
  line L14 (1.5, -1.5) -> (2, -1.5)
  line L15 (2, -1.5) -> (2, -2)
  line L16 (2, -2) -> (1.5, -2)
  line L17 (1.5, 2) -> (1.5, 1.5) projected
  line L18 (1.5, 2) -> (1.5, 1.5)
  line L19 (1.5, 1.5) -> (2, 1.5)
  line L20 (2, 1.5) -> (2, 2)
  line L21 (2, 2) -> (1.5, 2)
  point P0 (0, 0)
extrude "Выдавливание9" add sketch "Эскиз11" along normal blind 0.5 bodies 1
fillet "Сопряжение3" radius 0.2 8 edges at (3, -0.07, -1.75) (3, 0.9, -1.75) (3, 0.9, 1.75) (3, -0.07, 1.75) (-3, -0.07, 1.75) (-3, -0.07, -1.75) (-3, 0.9, 1.75) (-3, 0.9, -1.75)
fillet "Сопряжение4" radius 0.2 8 edges at (1.5, 0.6, -1.75) (2, 0.9, -1.75) (2, 0.9, 1.75) (1.5, 0.6, 1.75) (-1.5, 0.6, 1.75) (-2, 0.9, 1.75) (-2, 0.9, -1.75) (-1.5, 0.6, -1.75)
